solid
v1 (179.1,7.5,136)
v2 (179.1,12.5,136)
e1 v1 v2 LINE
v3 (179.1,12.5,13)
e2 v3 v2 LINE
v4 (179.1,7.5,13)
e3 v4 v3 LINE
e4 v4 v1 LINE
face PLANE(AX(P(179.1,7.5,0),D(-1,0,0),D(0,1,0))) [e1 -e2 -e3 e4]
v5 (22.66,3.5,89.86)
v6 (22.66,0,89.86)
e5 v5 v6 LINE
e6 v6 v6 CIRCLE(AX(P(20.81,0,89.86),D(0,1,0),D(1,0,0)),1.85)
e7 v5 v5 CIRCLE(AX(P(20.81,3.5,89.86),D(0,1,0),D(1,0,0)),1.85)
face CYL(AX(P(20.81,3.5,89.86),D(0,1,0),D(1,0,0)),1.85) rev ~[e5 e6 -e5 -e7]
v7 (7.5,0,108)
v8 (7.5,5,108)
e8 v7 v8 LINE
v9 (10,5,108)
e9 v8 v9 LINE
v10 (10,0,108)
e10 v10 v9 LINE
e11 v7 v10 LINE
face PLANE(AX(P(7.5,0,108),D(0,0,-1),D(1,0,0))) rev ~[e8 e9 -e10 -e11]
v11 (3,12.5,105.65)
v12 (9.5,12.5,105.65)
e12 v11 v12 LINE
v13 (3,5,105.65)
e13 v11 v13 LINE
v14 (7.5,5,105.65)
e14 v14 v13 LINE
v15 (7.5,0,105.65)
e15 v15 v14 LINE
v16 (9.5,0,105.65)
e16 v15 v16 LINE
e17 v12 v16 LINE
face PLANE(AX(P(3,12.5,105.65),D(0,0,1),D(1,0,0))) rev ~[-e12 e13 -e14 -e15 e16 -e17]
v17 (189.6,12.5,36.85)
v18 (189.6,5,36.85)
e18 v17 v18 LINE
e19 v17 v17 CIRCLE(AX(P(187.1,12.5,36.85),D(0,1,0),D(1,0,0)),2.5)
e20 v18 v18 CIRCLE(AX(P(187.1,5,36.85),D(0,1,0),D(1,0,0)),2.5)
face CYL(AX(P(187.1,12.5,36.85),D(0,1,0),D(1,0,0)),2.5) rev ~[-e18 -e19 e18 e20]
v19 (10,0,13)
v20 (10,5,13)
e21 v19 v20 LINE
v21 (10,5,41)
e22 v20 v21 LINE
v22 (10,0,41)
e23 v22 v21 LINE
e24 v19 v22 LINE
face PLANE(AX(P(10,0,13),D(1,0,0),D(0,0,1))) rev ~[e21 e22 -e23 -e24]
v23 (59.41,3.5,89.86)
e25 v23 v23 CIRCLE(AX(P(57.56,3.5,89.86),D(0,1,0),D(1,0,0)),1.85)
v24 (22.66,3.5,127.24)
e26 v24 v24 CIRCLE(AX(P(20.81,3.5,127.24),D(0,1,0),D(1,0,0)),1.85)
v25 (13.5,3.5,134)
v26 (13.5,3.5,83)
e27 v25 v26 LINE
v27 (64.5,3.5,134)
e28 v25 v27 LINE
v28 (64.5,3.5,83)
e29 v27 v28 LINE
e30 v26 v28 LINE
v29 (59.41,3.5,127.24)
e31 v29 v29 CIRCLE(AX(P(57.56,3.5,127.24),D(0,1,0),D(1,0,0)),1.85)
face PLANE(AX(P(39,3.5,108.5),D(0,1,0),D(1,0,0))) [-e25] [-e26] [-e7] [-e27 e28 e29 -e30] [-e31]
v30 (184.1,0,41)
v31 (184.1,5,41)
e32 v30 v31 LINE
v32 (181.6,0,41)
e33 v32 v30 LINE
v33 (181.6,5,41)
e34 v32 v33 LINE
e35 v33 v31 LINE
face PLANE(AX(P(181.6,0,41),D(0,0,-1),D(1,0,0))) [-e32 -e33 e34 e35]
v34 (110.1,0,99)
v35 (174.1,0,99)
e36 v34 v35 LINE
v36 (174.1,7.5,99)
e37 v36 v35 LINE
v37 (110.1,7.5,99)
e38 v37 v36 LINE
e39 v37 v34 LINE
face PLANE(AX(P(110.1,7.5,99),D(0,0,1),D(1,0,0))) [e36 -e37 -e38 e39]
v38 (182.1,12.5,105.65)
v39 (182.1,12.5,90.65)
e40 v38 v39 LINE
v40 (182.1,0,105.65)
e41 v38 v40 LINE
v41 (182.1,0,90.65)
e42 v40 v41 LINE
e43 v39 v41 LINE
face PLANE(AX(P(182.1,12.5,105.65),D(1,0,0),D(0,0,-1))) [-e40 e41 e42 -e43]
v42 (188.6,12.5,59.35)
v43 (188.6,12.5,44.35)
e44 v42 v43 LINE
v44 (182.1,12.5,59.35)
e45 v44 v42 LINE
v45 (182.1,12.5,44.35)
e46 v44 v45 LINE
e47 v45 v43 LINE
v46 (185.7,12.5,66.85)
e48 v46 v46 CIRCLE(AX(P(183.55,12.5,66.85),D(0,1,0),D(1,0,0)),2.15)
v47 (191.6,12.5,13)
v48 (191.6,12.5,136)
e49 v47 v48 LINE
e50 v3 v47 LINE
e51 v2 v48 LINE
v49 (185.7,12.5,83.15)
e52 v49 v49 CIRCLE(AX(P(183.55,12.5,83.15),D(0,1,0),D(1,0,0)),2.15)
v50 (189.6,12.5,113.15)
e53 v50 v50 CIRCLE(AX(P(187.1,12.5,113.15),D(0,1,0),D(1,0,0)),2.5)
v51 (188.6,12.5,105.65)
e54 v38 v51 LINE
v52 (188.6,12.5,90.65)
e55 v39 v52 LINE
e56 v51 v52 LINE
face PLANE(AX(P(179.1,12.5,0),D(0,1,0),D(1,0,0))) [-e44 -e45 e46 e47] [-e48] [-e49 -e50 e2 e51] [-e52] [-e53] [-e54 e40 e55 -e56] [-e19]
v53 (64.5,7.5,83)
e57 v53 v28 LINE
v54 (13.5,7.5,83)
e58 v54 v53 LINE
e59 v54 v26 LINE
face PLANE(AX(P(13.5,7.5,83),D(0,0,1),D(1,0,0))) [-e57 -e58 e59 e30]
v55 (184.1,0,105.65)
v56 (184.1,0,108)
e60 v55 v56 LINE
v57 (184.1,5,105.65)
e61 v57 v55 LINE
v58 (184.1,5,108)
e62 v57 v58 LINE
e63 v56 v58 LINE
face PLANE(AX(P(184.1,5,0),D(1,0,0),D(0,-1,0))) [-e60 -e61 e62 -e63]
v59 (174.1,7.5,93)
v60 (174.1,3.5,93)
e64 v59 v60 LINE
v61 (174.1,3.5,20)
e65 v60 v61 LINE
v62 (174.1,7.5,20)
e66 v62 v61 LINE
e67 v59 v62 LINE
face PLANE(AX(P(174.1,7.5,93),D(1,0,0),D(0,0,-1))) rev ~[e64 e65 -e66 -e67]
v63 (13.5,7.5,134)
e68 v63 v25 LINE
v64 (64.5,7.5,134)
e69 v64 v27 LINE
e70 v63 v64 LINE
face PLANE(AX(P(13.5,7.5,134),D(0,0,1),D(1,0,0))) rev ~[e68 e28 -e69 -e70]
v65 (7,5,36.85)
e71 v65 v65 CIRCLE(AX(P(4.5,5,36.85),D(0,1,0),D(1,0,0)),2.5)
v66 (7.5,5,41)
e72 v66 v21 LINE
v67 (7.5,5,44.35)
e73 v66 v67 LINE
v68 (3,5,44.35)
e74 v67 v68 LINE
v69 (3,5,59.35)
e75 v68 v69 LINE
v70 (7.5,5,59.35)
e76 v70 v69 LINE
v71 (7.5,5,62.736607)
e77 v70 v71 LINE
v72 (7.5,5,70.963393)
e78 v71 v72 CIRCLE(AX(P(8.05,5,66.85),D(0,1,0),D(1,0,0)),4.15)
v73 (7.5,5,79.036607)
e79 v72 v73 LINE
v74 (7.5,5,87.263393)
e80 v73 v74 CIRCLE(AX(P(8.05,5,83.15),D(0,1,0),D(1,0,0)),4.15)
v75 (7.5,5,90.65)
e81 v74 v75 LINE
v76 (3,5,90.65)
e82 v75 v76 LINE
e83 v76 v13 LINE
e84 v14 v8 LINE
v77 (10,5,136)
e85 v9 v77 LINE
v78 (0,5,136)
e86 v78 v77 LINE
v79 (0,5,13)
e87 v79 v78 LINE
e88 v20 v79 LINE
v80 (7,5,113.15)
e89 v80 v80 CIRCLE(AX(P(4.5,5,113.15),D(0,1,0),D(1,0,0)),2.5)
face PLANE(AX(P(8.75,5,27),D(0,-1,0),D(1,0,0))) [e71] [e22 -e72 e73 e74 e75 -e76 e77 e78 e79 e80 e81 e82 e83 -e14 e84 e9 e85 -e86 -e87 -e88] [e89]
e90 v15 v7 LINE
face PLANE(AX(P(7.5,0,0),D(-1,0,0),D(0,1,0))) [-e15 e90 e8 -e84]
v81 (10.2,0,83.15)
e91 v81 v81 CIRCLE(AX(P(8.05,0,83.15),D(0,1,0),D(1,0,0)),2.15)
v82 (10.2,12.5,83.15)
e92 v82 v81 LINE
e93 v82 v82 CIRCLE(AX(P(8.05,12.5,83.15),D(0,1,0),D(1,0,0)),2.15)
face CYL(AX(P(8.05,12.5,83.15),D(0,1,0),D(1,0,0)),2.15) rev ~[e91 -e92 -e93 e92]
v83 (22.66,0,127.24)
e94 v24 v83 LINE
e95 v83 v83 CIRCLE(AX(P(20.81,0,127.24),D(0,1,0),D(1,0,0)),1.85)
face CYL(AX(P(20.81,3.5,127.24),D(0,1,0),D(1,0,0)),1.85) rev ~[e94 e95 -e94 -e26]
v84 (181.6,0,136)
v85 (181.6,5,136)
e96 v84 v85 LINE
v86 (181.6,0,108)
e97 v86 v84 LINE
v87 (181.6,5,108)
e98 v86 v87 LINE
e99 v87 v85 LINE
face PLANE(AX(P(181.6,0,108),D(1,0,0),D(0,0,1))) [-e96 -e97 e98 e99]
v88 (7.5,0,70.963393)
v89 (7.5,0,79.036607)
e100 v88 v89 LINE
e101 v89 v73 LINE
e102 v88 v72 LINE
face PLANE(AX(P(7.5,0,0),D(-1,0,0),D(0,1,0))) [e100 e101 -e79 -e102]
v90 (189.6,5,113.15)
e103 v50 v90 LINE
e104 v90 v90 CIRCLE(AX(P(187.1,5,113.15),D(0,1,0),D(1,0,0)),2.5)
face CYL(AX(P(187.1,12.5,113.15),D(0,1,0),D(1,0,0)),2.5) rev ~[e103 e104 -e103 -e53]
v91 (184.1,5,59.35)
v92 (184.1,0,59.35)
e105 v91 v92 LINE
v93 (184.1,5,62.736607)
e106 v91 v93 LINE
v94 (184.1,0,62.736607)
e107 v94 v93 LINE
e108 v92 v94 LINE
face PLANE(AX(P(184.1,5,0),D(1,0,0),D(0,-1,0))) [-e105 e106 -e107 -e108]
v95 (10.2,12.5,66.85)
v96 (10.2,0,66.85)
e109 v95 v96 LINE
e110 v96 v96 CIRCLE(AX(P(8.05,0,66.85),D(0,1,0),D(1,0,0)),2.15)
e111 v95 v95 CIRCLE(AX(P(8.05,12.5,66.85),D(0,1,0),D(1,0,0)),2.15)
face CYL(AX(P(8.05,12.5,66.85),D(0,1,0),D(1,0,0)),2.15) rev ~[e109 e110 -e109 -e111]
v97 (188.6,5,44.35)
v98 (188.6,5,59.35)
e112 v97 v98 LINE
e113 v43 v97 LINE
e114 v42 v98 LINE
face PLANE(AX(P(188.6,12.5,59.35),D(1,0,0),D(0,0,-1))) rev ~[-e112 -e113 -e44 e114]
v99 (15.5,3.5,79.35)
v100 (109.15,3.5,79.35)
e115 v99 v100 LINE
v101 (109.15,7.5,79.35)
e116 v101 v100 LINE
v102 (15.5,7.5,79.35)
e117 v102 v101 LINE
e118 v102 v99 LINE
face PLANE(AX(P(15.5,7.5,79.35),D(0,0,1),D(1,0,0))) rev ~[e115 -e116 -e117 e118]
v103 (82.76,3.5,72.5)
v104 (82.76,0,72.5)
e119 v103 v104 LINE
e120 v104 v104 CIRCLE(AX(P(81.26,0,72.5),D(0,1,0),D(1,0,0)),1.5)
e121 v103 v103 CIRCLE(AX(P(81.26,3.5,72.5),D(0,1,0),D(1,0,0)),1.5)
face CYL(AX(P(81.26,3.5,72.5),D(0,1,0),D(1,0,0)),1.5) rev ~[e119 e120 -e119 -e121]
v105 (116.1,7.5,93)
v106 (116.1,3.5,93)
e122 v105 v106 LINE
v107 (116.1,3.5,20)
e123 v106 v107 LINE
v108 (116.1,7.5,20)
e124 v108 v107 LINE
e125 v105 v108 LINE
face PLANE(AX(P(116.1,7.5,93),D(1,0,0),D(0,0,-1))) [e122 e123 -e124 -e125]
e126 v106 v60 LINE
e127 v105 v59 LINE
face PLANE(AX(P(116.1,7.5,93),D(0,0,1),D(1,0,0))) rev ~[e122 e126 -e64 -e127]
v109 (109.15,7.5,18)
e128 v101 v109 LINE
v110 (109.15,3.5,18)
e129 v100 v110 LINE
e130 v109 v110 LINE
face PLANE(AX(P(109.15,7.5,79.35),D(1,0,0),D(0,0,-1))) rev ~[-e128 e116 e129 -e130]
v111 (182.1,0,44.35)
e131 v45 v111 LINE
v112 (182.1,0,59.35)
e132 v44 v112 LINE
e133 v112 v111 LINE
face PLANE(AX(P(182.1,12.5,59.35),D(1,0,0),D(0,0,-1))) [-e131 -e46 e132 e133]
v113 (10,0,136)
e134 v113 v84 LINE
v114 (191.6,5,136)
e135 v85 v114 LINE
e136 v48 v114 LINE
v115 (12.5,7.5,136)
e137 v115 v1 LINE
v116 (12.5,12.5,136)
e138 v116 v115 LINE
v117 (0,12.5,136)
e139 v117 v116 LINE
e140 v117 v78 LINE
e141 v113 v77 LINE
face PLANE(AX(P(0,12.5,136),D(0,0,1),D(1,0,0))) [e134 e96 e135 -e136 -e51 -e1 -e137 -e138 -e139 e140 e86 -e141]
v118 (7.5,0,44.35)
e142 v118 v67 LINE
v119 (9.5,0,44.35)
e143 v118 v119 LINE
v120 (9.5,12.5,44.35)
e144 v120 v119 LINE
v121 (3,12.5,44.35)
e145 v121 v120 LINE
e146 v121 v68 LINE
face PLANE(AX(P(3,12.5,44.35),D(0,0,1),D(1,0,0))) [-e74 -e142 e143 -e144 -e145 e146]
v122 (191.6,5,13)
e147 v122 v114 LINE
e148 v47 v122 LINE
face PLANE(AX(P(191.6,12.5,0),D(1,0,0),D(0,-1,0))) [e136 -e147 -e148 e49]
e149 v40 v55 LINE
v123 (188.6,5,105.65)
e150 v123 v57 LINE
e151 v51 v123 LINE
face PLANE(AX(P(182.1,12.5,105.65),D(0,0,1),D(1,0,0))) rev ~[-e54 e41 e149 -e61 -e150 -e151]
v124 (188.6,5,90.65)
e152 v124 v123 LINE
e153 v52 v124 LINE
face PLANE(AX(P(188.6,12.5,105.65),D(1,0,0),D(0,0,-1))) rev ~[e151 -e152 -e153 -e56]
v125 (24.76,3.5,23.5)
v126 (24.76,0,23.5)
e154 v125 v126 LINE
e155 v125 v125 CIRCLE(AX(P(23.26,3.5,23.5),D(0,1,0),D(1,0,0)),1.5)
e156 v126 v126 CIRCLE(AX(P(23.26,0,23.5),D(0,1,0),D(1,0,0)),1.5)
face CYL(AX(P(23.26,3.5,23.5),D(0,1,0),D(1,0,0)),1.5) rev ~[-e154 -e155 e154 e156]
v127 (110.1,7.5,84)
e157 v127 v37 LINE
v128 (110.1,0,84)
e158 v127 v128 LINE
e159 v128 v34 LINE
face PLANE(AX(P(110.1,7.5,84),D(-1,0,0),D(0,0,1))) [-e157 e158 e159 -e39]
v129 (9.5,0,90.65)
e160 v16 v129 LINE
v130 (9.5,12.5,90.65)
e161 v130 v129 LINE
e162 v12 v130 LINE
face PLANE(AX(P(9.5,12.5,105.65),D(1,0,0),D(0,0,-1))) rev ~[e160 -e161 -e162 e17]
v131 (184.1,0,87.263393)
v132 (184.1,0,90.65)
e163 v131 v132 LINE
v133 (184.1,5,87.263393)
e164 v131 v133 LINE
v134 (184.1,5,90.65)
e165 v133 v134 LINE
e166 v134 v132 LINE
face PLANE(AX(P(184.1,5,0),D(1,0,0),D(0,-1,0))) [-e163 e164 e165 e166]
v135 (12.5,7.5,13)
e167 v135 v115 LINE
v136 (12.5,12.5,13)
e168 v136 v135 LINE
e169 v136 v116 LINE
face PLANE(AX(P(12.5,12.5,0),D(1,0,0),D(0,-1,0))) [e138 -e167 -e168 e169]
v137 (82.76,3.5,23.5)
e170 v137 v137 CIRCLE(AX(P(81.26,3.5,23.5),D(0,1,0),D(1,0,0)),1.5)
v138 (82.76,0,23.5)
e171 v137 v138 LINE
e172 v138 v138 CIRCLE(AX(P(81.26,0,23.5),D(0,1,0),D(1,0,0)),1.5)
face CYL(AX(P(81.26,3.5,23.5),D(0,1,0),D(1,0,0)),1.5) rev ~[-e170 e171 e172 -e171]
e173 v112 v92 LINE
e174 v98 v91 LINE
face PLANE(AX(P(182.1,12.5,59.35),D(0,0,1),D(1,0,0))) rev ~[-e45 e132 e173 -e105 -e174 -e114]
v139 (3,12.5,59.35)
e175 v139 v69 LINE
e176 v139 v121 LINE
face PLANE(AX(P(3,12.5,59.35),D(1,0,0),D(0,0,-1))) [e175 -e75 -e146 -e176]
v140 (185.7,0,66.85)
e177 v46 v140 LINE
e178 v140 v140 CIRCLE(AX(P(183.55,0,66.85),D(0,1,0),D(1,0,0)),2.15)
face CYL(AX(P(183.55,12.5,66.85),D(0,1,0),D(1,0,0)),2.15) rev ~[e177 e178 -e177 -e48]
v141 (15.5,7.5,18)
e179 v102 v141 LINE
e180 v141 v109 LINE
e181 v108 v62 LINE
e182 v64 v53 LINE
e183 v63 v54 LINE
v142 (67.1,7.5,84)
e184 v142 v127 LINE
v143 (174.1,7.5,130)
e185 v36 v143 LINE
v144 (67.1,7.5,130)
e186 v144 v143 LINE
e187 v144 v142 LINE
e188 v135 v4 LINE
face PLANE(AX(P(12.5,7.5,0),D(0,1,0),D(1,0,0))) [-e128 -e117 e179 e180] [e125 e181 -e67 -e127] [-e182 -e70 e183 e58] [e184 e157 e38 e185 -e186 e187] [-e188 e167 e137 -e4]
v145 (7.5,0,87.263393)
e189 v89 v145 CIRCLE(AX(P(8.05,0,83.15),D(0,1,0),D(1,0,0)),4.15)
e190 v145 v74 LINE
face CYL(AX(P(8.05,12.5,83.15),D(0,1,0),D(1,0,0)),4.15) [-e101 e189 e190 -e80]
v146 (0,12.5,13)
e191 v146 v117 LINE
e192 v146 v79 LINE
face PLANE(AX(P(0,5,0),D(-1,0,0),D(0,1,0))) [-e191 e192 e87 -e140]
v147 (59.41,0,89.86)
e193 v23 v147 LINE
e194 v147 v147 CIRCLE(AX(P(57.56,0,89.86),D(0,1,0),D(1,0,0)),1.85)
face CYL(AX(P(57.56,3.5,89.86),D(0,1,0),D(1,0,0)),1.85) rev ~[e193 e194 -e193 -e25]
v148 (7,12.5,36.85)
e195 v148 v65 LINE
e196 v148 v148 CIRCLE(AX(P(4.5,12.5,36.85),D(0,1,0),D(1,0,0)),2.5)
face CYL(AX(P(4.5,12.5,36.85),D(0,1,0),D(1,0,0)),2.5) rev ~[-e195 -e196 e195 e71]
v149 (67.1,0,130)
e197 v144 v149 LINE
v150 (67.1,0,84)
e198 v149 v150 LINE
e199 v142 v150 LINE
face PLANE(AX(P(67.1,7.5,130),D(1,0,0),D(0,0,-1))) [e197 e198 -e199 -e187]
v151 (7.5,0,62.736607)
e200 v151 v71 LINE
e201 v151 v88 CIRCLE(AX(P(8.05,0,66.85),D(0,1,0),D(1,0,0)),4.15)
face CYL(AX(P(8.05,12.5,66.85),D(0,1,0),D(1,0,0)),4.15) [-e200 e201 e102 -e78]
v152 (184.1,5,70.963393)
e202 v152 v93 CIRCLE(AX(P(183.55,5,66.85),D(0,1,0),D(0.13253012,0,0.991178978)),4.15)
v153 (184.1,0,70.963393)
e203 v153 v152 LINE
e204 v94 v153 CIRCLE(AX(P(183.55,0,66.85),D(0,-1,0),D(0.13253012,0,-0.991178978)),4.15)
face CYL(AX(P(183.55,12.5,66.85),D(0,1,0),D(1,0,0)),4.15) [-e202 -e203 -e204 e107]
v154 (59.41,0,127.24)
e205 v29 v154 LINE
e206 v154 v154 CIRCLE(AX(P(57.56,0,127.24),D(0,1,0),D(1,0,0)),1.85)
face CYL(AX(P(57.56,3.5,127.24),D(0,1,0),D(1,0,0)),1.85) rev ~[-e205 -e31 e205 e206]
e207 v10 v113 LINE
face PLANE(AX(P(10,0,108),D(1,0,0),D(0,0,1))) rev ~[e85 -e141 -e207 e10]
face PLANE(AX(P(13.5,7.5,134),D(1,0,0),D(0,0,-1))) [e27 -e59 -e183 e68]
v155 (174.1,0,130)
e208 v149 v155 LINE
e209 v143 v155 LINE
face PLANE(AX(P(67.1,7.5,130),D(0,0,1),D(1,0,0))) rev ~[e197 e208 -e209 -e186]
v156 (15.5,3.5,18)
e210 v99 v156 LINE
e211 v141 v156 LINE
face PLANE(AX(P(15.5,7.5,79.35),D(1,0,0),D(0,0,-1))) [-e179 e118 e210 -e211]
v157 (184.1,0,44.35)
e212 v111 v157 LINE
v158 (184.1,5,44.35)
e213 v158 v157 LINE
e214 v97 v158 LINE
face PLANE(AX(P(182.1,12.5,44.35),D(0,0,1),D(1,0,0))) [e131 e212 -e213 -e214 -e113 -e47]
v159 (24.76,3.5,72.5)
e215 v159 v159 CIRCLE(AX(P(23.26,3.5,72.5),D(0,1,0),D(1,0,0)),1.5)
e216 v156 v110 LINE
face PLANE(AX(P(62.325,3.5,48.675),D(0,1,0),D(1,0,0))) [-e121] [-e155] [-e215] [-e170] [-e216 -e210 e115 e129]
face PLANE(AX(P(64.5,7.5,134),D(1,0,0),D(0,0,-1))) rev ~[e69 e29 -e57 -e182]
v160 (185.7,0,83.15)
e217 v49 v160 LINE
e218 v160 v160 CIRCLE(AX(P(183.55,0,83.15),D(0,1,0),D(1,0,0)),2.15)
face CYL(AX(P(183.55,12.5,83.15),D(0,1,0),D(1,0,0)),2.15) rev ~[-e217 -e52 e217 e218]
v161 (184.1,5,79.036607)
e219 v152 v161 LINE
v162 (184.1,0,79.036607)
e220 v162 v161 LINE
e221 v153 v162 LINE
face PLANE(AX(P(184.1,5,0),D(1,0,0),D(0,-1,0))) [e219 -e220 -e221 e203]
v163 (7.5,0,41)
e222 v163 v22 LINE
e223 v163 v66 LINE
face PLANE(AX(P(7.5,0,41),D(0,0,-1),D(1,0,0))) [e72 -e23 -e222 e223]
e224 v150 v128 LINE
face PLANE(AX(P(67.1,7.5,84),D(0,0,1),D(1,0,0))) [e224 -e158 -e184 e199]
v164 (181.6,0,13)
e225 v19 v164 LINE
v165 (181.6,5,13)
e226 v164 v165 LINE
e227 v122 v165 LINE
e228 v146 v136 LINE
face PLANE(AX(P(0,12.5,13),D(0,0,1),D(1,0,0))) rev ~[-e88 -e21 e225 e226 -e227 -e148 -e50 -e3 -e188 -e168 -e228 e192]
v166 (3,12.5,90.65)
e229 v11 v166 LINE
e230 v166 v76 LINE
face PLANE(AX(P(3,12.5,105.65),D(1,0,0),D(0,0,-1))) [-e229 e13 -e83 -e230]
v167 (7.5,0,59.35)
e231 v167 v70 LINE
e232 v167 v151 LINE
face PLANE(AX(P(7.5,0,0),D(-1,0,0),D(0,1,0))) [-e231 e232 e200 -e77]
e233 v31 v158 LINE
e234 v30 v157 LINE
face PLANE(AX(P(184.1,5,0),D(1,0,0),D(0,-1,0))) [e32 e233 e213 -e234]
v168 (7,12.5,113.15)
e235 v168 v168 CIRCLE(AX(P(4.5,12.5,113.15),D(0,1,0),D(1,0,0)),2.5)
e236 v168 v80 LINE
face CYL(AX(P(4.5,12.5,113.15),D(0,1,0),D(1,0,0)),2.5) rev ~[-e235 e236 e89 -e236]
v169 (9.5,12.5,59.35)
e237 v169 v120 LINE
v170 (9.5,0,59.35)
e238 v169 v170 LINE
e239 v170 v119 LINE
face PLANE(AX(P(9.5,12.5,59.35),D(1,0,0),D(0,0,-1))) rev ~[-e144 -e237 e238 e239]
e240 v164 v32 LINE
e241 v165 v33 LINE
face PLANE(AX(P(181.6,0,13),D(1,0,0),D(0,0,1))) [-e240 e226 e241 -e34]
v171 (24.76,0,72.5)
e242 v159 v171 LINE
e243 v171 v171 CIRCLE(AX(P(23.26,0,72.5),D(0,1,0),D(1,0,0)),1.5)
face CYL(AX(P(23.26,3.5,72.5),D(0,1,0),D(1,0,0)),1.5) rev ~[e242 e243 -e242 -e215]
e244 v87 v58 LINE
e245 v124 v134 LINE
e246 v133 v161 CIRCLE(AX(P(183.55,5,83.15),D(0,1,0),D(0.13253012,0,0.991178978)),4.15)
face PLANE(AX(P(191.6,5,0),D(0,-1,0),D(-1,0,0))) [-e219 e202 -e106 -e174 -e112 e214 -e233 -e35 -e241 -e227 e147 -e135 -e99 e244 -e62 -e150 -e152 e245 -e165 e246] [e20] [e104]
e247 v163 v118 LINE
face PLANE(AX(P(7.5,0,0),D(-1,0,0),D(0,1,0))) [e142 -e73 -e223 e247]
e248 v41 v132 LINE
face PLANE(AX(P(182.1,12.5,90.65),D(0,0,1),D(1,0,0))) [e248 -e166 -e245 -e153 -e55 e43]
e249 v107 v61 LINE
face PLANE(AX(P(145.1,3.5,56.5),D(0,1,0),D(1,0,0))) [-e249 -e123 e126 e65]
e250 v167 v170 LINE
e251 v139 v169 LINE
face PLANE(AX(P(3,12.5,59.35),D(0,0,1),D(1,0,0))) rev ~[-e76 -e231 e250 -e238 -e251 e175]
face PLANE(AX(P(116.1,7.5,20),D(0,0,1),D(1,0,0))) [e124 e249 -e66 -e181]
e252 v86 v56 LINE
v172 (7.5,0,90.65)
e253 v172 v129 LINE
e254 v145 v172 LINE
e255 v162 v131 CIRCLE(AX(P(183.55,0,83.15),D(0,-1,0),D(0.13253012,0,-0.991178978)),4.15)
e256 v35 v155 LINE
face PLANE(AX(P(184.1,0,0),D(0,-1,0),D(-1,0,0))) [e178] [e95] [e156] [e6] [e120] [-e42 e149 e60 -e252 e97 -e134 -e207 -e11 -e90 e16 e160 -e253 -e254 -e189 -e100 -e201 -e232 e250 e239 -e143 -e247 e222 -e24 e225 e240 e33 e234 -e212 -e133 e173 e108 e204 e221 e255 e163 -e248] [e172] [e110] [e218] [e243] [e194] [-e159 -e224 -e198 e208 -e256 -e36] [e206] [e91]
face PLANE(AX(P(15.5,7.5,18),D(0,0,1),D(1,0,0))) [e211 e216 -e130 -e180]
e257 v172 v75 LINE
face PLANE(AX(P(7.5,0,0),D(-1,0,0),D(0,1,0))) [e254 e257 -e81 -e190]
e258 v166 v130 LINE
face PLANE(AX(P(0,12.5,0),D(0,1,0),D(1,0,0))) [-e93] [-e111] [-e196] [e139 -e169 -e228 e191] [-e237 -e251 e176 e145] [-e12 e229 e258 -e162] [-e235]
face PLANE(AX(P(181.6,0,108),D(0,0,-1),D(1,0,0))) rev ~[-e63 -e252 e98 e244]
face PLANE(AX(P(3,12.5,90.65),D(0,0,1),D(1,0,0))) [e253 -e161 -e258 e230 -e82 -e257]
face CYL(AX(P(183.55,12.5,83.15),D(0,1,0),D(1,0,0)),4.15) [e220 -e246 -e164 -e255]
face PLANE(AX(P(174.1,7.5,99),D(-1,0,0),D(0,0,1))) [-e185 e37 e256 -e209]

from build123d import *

# Parameters (mm, degrees)
PLATEFRAME_DEPTH          = 150
SKETCH3_R                 = 2.5
HOLESUPPORT_DEPTH         = 13.5
SKETCH4_R                 = 4.15
SKETCH4_R_2               = 2.15
CYLINDRICALSUPPORTS_DEPTH = 12.5
SKETCH5_W                 = 43
SKETCH5_H                 = 43
SKETCH5_W_2               = 89.65
SKETCH5_H_2               = 57.35
SKETCH5_W_3               = 58
SKETCH5_H_3               = 73
ITEMLAYOUT_DEPTH          = 4
HOLECUTOUT_DEPTH          = 7.5
SKETCH7_R                 = 1.5
HOLERASPBERRYPI_DEPTH     = 3.5
SKETCH8_R                 = 1.85
HOLEMOTORDRIVER_DEPTH     = 3.5
SKETCH10_W                = 45
SKETCH10_H                = 45
SKETCH10_W_2              = 43
SKETCH10_H_2              = 43
CUTMOTORDRIVER_DEPTH      = 4
SKETCH11_W                = 93.65
SKETCH11_H                = 61.35
SKETCH11_W_2              = 89.65
SKETCH11_H_2              = 57.35
CUTPASPBERRYPI_DEPTH      = 4
SKETCH12_W                = 191.6
SKETCH12_H                = 13
SKETCH12_H_2              = 14
CUTPLATEEDGES_DEPTH       = 12.5
SKETCH13_W                = 6.5
SKETCH13_H                = 15
CUTSHELLHOLES_DEPTH       = 12.5
SKETCH14_W                = 51
SKETCH14_H                = 51
CUTMOTORDRIVER2_DEPTH     = 4
SKETCH15_R                = 2.5
STANDOFFHOLES_DEPTH       = 13.5
SKETCH16_W                = 2.5
SKETCH16_H                = 28
CUT_EXTRUDE1_DEPTH        = 5


with BuildPart() as part:
    # Sketch2 → PlateFrame (new body)
    with BuildSketch(Plane.XY):
        Polygon((179.1, 12.5), (191.6, 12.5), (191.6, 5), (184.1, 5), (184.1, 0), (7.5, 0), (7.5, 5), (0, 5), (0, 12.5), (12.5, 12.5), (12.5, 7.5), (179.1, 7.5), align=None)
    extrude(amount=PLATEFRAME_DEPTH)

    # Sketch3 → HoleSupport (cut, through all)
    with BuildSketch(Plane(origin=(0, 12.5, 0), x_dir=(1, 0, 0), z_dir=(0, 1, 0))):
        with Locations((8.05, -66.85)):
            Circle(SKETCH3_R)
        with Locations((8.05, -83.15)):
            Circle(SKETCH3_R)
        with Locations((183.55, -66.85)):
            Circle(SKETCH3_R)
        with Locations((183.55, -83.15)):
            Circle(SKETCH3_R)
    extrude(amount=-HOLESUPPORT_DEPTH, mode=Mode.SUBTRACT)

    # Sketch4 → CylindricalSupports (add)
    with BuildSketch(Plane(origin=(0, 12.5, 0), x_dir=(1, 0, 0), z_dir=(0, 1, 0))):
        with Locations((183.55, -66.85)):
            Circle(SKETCH4_R)
        with Locations((183.55, -66.85)):
            Circle(SKETCH4_R_2, mode=Mode.SUBTRACT)
        with Locations((183.55, -83.15)):
            Circle(SKETCH4_R)
        with Locations((183.55, -83.15)):
            Circle(SKETCH4_R_2, mode=Mode.SUBTRACT)
        with Locations((8.05, -66.85)):
            Circle(SKETCH4_R)
        with Locations((8.05, -66.85)):
            Circle(SKETCH4_R_2, mode=Mode.SUBTRACT)
        with Locations((8.05, -83.15)):
            Circle(SKETCH4_R)
        with Locations((8.05, -83.15)):
            Circle(SKETCH4_R_2, mode=Mode.SUBTRACT)
    extrude(amount=-CYLINDRICALSUPPORTS_DEPTH)

    # Sketch5 → ItemLayout (cut)
    with BuildSketch(Plane(origin=(0, 7.5, 0), x_dir=(1, 0, 0), z_dir=(0, 1, 0))):
        with Locations((39, -108.5)):
            Rectangle(SKETCH5_W, SKETCH5_H)
        with Locations((62.325, -48.675)):
            Rectangle(SKETCH5_W_2, SKETCH5_H_2)
        with Locations((145.1, -56.5)):
            Rectangle(SKETCH5_W_3, SKETCH5_H_3)
    extrude(amount=-ITEMLAYOUT_DEPTH, mode=Mode.SUBTRACT)

    # Sketch6 → HoleCutout (cut)
    with BuildSketch(Plane(origin=(0, 7.5, 0), x_dir=(1, 0, 0), z_dir=(0, 1, 0))):
        Polygon((67.1, -84), (110.1, -84), (110.1, -99), (174.1, -99), (174.1, -130), (110.1, -130), (67.1, -130), align=None)
    extrude(amount=-HOLECUTOUT_DEPTH, mode=Mode.SUBTRACT)

    # Sketch7 → HoleRaspberryPi (cut)
    with BuildSketch(Plane(origin=(0, 3.5, 0), x_dir=(1, 0, 0), z_dir=(0, 1, 0))):
        with Locations((23.26, -23.5)):
            Circle(SKETCH7_R)
        with Locations((23.26, -72.5)):
            Circle(SKETCH7_R)
        with Locations((81.26, -72.5)):
            Circle(SKETCH7_R)
        with Locations((81.26, -23.5)):
            Circle(SKETCH7_R)
    extrude(amount=-HOLERASPBERRYPI_DEPTH, mode=Mode.SUBTRACT)

    # Sketch8 → HoleMotorDriver (cut)
    with BuildSketch(Plane(origin=(0, 3.5, 0), x_dir=(1, 0, 0), z_dir=(0, 1, 0))):
        with Locations((57.56, -127.24)):
            Circle(SKETCH8_R)
        with Locations((57.56, -89.86)):
            Circle(SKETCH8_R)
        with Locations((20.81, -89.86)):
            Circle(SKETCH8_R)
        with Locations((20.81, -127.24)):
            Circle(SKETCH8_R)
    extrude(amount=-HOLEMOTORDRIVER_DEPTH, mode=Mode.SUBTRACT)

    # Sketch10 → CutMotorDriver (cut)
    with BuildSketch(Plane(origin=(0, 7.5, 0), x_dir=(1, 0, 0), z_dir=(0, 1, 0))):
        with Locations((39, -108.5)):
            Rectangle(SKETCH10_W, SKETCH10_H)
        with Locations((39, -108.5)):
            Rectangle(SKETCH10_W_2, SKETCH10_H_2, mode=Mode.SUBTRACT)
    extrude(amount=-CUTMOTORDRIVER_DEPTH, mode=Mode.SUBTRACT)

    # Sketch11 → CutPaspberryPi (cut)
    with BuildSketch(Plane(origin=(0, 7.5, 0), x_dir=(1, 0, 0), z_dir=(0, 1, 0))):
        with Locations((62.325, -48.675)):
            Rectangle(SKETCH11_W, SKETCH11_H)
        with Locations((62.325, -48.675)):
            Rectangle(SKETCH11_W_2, SKETCH11_H_2, mode=Mode.SUBTRACT)
    extrude(amount=-CUTPASPBERRYPI_DEPTH, mode=Mode.SUBTRACT)

    # Sketch12 → CutPlateEdges (cut)
    with BuildSketch(Plane(origin=(0, 12.5, 0), x_dir=(1, 0, 0), z_dir=(0, 1, 0))):
        with Locations((95.8, -6.5)):
            Rectangle(SKETCH12_W, SKETCH12_H)
        with Locations((95.8, -143)):
            Rectangle(SKETCH12_W, SKETCH12_H_2)
    extrude(amount=-CUTPLATEEDGES_DEPTH, mode=Mode.SUBTRACT)

    # Sketch13 → CutShellHoles (cut)
    with BuildSketch(Plane(origin=(0, 12.5, 0), x_dir=(1, 0, 0), z_dir=(0, 1, 0))):
        with Locations((6.25, -51.85)):
            Rectangle(SKETCH13_W, SKETCH13_H)
        with Locations((6.25, -98.15)):
            Rectangle(SKETCH13_W, SKETCH13_H)
        with Locations((185.35, -51.85)):
            Rectangle(SKETCH13_W, SKETCH13_H)
        with Locations((185.35, -98.15)):
            Rectangle(SKETCH13_W, SKETCH13_H)
    extrude(amount=-CUTSHELLHOLES_DEPTH, mode=Mode.SUBTRACT)

    # Sketch14 → CutMotorDriver2 (cut)
    with BuildSketch(Plane(origin=(0, 7.5, 0), x_dir=(1, 0, 0), z_dir=(0, 1, 0))):
        with Locations((39, -108.5)):
            Rectangle(SKETCH14_W, SKETCH14_H)
    extrude(amount=-CUTMOTORDRIVER2_DEPTH, mode=Mode.SUBTRACT)

    # Sketch15 → StandoffHoles (cut, through all)
    with BuildSketch(Plane(origin=(0, 12.5, 0), x_dir=(1, 0, 0), z_dir=(0, 1, 0))):
        with Locations((4.5, -36.85)):
            Circle(SKETCH15_R)
        with Locations((4.5, -113.15)):
            Circle(SKETCH15_R)
        with Locations((187.1, -113.15)):
            Circle(SKETCH15_R)
        with Locations((187.1, -36.85)):
            Circle(SKETCH15_R)
    extrude(amount=-STANDOFFHOLES_DEPTH, mode=Mode.SUBTRACT)

    # Sketch16 → Cut-Extrude1 (cut)
    with BuildSketch(Plane.XZ):
        with Locations((8.75, 122)):
            Rectangle(SKETCH16_W, SKETCH16_H)
        with Locations((182.85, 122)):
            Rectangle(SKETCH16_W, SKETCH16_H)
        with Locations((182.85, 27)):
            Rectangle(SKETCH16_W, SKETCH16_H)
        with Locations((8.75, 27)):
            Rectangle(SKETCH16_W, SKETCH16_H)
    extrude(amount=-CUT_EXTRUDE1_DEPTH, mode=Mode.SUBTRACT)


solid = part.part
